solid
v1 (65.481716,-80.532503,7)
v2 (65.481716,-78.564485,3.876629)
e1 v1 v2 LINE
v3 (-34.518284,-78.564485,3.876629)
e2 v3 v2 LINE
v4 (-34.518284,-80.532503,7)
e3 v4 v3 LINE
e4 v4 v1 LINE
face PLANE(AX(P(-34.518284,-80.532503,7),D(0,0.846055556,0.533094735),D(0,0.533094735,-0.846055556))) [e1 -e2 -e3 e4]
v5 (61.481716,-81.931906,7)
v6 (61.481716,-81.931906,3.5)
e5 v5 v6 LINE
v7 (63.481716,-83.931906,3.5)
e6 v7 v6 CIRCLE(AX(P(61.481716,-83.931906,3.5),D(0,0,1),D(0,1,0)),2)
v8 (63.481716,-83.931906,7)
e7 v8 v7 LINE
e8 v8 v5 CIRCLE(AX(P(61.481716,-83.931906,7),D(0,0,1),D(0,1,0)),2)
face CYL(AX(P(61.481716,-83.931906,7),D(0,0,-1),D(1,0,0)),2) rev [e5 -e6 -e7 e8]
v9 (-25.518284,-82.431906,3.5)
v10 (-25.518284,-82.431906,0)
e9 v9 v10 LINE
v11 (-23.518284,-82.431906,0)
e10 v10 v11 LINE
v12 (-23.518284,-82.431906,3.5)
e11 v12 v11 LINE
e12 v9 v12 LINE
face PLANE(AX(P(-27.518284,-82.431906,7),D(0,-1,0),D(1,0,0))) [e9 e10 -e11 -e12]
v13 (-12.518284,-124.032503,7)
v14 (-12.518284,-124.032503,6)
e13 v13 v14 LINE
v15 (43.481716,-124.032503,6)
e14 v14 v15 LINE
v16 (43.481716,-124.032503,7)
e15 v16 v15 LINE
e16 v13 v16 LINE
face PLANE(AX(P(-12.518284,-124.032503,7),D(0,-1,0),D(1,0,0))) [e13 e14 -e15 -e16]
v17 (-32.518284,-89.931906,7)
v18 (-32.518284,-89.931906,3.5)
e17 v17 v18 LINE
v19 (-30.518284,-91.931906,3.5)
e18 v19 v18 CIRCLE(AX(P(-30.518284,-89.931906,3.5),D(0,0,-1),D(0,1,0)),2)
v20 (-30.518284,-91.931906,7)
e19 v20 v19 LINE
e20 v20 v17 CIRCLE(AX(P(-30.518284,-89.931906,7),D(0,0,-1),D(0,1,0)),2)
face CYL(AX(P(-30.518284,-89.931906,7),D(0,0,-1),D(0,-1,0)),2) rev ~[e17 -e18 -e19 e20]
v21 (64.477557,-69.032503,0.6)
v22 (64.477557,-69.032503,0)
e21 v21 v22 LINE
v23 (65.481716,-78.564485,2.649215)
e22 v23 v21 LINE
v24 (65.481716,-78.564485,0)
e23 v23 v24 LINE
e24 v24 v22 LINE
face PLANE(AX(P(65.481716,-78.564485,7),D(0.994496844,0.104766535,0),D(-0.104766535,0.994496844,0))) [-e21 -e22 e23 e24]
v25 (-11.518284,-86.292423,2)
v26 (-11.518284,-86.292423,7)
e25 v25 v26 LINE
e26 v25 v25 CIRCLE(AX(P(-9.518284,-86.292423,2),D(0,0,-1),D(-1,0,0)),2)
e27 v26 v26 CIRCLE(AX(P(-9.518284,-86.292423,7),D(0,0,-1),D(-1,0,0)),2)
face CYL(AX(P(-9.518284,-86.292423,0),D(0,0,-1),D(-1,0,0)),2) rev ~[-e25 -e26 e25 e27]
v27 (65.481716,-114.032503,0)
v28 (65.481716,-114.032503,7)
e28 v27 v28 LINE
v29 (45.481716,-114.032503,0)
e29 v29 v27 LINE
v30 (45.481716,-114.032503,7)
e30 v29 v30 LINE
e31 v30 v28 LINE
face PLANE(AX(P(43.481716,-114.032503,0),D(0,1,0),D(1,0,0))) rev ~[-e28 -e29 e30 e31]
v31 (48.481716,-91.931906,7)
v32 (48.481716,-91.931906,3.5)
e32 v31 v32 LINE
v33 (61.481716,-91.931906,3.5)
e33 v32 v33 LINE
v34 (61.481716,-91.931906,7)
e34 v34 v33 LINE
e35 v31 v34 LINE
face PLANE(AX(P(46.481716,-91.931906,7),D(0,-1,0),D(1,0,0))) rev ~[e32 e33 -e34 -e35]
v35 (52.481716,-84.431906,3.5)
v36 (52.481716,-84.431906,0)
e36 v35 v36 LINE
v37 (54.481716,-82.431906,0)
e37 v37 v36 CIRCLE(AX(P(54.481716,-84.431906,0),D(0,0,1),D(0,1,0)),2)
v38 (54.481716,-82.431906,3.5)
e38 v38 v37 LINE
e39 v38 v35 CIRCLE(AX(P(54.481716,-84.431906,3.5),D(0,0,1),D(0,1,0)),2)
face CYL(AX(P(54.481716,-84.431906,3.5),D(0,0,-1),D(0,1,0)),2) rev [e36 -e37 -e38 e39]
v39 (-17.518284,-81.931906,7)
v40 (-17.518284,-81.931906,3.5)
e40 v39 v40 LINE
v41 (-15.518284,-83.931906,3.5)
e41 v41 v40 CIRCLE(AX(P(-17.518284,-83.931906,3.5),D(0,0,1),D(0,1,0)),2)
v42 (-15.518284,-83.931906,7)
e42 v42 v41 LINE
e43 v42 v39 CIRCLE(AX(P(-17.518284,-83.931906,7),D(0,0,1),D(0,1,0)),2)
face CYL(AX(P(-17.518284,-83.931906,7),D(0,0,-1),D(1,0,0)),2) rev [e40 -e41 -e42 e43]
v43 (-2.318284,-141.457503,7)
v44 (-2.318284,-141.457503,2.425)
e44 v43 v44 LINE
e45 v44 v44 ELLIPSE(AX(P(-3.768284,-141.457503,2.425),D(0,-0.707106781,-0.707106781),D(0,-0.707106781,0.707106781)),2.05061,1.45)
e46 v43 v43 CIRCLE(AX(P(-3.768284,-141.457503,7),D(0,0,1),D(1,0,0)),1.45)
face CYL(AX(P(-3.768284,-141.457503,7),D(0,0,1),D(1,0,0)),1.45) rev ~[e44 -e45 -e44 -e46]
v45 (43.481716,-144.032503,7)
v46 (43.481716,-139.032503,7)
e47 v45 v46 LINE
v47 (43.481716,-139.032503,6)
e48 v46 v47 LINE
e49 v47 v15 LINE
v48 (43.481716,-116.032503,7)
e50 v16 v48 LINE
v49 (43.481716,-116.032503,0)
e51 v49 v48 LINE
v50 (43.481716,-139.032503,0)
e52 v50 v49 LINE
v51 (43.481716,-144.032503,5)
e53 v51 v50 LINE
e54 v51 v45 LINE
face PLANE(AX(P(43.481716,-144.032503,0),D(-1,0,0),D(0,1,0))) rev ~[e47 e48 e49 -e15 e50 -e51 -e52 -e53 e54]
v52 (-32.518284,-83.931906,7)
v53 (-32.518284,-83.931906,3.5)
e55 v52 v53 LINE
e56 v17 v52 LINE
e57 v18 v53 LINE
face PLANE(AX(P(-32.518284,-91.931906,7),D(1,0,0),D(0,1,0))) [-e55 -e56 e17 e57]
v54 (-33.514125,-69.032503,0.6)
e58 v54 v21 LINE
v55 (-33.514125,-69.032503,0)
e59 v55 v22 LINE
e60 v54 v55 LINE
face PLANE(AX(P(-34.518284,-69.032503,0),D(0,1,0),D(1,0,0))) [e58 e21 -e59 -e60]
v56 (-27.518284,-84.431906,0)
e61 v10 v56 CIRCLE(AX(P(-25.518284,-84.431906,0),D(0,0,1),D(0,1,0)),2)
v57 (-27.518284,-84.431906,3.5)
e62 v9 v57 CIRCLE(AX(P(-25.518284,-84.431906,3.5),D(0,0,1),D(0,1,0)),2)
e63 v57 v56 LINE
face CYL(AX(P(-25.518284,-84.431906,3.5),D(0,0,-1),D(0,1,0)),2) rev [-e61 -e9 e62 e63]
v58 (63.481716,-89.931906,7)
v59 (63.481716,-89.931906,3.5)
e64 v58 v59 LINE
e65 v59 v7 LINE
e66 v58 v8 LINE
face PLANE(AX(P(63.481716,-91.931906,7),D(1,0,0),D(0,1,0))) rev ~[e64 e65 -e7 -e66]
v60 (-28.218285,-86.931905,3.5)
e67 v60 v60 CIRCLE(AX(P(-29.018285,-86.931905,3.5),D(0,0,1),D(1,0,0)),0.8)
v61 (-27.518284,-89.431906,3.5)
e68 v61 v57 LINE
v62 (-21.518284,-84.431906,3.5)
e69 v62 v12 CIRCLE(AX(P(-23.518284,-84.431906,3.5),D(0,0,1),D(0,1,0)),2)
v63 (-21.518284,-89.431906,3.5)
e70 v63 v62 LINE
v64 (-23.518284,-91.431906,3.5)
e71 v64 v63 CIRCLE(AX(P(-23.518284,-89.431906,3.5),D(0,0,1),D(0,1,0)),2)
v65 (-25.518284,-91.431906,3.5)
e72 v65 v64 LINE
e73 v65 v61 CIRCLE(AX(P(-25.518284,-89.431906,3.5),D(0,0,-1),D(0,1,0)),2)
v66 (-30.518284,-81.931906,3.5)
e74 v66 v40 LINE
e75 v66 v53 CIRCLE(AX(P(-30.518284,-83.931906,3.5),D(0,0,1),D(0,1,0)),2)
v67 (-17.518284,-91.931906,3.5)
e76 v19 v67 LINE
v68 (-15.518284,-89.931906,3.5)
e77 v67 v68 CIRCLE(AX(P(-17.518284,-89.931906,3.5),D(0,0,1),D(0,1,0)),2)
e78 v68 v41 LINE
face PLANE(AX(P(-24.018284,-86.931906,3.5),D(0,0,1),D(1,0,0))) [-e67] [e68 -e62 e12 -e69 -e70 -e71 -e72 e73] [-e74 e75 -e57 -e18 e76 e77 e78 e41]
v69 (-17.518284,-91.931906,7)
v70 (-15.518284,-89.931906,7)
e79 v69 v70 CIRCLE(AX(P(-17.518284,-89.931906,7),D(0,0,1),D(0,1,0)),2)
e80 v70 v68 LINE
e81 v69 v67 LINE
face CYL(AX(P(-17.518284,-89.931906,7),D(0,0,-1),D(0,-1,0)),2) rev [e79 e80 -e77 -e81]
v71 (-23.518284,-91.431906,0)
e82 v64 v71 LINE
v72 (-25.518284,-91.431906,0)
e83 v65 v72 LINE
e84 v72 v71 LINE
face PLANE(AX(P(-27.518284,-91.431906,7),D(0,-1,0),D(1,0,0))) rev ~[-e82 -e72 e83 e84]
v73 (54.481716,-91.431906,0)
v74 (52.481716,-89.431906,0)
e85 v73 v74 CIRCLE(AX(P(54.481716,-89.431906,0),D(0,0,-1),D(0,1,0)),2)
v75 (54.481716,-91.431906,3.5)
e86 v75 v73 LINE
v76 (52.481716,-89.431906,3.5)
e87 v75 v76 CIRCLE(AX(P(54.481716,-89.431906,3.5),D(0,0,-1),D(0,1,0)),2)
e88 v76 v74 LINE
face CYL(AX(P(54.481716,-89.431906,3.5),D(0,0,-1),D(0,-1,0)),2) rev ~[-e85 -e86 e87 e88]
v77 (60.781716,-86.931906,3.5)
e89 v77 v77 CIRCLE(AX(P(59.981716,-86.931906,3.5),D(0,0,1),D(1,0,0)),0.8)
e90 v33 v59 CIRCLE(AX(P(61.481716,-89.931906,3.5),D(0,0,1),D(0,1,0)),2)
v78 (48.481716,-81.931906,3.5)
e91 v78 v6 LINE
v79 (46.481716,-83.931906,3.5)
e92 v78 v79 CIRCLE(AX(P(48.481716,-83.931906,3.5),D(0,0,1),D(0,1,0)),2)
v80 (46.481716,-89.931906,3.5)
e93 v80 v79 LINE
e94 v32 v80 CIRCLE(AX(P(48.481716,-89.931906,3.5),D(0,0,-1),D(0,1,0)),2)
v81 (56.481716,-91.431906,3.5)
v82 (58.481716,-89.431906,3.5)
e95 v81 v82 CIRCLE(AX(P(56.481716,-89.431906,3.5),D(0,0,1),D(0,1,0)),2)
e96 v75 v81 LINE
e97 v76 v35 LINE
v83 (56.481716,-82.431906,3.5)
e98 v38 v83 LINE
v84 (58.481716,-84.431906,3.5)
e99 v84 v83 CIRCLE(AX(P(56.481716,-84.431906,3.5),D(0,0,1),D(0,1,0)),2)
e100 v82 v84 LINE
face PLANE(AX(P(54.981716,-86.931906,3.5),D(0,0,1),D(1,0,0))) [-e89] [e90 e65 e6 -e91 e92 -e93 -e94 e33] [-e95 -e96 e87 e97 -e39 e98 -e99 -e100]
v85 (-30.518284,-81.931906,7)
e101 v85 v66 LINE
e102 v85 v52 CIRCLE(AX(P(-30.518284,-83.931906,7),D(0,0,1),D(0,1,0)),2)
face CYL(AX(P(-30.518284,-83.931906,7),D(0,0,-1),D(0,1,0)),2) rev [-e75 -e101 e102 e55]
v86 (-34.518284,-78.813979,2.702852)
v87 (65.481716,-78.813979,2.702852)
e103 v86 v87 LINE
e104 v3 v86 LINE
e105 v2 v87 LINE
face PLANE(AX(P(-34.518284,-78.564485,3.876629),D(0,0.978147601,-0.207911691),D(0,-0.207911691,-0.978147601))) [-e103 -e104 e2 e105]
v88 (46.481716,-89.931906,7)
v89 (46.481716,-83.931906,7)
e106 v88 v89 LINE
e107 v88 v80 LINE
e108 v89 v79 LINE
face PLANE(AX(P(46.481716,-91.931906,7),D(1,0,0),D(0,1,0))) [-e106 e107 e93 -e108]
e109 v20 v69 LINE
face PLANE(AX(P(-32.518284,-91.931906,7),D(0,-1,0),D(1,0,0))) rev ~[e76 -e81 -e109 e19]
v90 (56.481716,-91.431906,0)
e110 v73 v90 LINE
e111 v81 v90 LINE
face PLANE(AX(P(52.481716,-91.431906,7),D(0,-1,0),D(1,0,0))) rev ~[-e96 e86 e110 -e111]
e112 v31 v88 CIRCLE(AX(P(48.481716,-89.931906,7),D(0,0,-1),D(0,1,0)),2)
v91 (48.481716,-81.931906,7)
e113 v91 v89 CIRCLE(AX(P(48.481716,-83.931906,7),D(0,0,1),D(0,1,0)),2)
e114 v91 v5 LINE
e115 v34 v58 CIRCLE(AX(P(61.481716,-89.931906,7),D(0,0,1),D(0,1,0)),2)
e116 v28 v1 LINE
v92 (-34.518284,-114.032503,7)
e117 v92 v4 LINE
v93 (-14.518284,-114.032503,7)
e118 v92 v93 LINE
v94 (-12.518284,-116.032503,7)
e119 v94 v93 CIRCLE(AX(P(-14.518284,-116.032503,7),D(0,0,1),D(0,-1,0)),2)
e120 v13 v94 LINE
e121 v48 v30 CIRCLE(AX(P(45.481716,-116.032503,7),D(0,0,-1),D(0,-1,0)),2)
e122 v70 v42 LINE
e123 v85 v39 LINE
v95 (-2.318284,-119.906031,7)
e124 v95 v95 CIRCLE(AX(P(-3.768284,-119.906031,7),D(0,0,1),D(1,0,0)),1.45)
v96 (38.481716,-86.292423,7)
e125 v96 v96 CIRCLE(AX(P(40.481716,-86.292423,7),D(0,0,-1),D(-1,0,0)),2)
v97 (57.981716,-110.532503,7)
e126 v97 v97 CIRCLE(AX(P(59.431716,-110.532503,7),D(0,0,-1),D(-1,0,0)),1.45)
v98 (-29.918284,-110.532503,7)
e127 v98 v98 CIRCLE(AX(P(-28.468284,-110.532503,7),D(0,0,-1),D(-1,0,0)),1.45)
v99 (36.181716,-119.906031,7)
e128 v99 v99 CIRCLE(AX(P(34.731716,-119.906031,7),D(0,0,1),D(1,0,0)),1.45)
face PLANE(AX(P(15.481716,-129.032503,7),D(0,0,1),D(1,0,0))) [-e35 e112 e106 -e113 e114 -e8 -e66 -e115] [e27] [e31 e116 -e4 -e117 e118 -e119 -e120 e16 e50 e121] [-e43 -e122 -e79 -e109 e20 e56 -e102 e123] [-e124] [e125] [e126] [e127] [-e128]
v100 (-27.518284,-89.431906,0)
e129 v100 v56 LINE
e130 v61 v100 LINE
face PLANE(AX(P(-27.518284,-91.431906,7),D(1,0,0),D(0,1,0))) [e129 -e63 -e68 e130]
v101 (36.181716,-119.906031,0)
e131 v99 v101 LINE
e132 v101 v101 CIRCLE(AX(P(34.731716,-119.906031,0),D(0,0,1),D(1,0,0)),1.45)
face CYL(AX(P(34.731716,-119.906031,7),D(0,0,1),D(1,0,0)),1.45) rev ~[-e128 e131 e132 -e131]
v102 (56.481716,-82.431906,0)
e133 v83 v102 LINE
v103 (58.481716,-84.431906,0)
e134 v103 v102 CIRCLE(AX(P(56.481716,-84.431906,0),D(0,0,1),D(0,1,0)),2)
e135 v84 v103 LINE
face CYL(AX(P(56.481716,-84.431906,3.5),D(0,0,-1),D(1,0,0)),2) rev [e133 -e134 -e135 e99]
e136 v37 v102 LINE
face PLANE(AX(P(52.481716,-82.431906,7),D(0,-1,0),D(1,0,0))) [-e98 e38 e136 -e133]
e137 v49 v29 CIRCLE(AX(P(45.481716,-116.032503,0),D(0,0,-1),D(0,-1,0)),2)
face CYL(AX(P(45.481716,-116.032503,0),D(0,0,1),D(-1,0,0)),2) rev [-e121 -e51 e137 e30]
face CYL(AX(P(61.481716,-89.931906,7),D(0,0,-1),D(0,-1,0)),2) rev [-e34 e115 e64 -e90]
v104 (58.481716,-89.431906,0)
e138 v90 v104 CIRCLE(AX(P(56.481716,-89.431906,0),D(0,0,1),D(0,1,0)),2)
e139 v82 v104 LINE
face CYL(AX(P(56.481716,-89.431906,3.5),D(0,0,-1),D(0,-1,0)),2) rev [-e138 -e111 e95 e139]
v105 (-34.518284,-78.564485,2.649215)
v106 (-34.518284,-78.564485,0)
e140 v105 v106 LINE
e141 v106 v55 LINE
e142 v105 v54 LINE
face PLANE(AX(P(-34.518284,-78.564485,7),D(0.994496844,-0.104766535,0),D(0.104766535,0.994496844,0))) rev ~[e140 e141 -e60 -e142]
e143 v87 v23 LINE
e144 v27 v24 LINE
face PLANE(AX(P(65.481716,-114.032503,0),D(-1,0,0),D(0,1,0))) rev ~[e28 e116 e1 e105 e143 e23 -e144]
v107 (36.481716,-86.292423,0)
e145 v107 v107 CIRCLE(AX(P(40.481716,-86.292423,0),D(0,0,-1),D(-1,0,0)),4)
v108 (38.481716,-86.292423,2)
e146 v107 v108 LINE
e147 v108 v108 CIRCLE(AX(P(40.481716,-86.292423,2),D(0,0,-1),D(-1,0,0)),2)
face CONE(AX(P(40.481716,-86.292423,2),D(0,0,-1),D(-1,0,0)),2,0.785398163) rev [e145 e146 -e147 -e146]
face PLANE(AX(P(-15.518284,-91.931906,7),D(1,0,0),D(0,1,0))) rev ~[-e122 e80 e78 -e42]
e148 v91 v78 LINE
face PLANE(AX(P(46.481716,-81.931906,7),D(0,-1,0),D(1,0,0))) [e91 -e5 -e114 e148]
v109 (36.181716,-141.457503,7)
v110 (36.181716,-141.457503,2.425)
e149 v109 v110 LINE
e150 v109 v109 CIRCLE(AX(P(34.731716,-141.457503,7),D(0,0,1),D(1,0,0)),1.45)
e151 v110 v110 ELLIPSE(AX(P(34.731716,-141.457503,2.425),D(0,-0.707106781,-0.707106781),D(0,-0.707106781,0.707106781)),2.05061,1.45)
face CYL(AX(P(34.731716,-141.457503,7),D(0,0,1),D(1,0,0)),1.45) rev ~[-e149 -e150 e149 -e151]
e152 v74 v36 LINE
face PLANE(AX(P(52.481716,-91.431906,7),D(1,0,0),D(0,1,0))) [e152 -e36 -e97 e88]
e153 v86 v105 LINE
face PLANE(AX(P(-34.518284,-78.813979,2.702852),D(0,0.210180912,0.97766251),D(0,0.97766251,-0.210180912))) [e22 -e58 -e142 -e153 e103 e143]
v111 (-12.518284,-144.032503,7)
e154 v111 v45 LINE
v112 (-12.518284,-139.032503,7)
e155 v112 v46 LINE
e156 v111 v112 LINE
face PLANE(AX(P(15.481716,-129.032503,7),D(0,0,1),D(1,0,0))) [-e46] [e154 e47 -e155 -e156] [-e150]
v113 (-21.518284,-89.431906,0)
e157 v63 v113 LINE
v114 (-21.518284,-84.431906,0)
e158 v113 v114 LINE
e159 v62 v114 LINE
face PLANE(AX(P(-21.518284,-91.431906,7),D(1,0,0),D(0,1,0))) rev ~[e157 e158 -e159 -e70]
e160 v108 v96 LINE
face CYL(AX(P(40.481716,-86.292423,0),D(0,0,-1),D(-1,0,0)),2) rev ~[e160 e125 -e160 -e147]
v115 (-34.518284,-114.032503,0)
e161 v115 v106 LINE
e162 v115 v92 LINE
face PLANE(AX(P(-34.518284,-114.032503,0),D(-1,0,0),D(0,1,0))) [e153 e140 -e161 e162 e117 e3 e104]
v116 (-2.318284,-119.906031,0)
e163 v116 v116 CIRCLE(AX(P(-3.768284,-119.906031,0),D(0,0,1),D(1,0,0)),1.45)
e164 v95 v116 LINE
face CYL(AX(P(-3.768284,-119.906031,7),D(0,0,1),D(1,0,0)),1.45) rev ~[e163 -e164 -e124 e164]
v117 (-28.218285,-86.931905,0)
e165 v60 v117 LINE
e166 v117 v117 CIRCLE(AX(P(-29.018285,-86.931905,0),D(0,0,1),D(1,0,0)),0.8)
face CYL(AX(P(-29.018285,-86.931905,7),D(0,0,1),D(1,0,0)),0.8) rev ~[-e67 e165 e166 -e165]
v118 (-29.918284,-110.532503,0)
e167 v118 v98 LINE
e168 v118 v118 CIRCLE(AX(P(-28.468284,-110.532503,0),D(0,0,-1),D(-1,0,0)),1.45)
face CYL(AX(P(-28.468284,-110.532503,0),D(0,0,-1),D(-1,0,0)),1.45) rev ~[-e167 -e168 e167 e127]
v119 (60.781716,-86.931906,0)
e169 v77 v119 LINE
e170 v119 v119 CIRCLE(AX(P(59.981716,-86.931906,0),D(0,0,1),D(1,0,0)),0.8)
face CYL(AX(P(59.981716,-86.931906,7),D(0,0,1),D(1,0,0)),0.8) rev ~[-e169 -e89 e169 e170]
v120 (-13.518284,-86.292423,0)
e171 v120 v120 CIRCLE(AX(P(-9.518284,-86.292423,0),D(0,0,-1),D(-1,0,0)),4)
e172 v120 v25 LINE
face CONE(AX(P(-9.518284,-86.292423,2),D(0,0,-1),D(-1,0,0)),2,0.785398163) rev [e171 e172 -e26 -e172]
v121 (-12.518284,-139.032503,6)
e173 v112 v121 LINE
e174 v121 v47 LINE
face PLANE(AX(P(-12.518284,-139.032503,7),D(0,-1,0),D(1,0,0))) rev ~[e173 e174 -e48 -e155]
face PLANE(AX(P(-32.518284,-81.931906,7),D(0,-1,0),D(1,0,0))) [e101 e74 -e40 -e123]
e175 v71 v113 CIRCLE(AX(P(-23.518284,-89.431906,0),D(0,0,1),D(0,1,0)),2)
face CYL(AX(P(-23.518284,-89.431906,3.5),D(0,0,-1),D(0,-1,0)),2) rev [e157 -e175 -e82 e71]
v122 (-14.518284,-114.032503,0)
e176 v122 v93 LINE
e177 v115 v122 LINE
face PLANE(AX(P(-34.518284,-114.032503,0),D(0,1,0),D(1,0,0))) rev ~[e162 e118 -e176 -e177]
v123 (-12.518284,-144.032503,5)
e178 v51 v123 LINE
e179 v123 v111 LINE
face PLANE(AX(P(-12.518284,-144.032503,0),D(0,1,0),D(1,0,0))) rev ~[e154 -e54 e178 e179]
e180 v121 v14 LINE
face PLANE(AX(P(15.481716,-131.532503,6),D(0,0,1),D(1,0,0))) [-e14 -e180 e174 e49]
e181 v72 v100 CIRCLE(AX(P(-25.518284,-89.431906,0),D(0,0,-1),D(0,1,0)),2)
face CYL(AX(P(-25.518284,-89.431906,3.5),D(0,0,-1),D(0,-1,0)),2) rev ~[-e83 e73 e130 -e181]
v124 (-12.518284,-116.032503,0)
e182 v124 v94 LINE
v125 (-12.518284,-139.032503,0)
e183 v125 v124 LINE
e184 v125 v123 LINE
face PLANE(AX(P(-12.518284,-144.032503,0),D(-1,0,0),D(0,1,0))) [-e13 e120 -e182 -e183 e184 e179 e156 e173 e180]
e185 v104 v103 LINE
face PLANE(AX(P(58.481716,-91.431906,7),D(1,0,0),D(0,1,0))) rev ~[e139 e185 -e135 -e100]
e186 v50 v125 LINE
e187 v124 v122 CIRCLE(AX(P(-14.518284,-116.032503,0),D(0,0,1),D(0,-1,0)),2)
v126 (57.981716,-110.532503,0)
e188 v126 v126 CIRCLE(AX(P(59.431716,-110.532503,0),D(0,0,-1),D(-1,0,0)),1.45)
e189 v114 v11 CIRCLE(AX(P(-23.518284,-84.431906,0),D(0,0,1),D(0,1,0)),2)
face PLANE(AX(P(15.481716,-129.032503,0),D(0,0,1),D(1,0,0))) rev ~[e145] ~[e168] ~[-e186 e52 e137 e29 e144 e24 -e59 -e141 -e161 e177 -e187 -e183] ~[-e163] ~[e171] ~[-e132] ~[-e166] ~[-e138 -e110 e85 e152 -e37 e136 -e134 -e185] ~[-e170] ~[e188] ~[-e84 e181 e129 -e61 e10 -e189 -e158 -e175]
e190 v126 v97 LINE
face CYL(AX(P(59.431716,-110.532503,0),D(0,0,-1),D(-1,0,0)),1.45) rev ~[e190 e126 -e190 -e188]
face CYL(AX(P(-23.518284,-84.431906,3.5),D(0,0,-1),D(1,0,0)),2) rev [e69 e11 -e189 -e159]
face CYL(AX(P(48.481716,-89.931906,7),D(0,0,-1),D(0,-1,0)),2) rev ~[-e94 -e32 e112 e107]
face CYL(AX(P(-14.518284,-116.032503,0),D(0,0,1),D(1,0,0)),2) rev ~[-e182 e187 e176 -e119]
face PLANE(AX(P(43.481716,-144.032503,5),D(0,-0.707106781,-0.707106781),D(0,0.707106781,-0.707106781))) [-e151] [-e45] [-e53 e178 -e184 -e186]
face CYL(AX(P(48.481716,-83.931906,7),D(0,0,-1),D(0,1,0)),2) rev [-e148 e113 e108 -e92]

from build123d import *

# Parameters (mm, degrees)
ESBO_O1_W                = 56
ESBO_O1_H                = 30
ESBO_O1_W_2              = 100
ESBO_O1_H_2              = 45
RESSALTO_EXTRUS_O1_DEPTH = 7
CORTE_EXTRUS_O1_DEPTH    = 176.483223745
CORTE_EXTRUS_O2_DEPTH    = 164.946216229
ESBO_O5_W                = 17
ESBO_O5_H                = 10
CORTE_EXTRUS_O4_DEPTH    = 3.5
CORTE_EXTRUS_O6_DEPTH    = 24
FILETE1_R                = 2
FILETE2_R                = 2
ESBO_O8_R                = 0.8
ESBO_O8_W                = 6
ESBO_O8_H                = 9
CORTE_EXTRUS_O7_DEPTH    = 24
FILETE3_R                = 2
ESBO_O9_W                = 56
ESBO_O9_H                = 15
CORTE_EXTRUS_O8_DEPTH    = 1
ESBO_O10_R               = 1.45
CORTE_EXTRUS_O9_DEPTH    = 17
ESBO_O11_R               = 2
CORTE_EXTRUS_O10_DEPTH   = 15
CHANFRO1_SIZE            = 2
ESBO_O12_R               = 1.45
CORTE_EXTRUS_O11_DEPTH   = 15


with BuildPart() as part:
    # Esboço1 → Ressalto-extrusão1 (new body)
    with BuildSketch(Plane.XY):
        with Locations((15.481715893, -129.032502637)):
            Rectangle(ESBO_O1_W, ESBO_O1_H)
        with Locations((15.481715893, -91.532502637)):
            Rectangle(ESBO_O1_W_2, ESBO_O1_H_2)
    extrude(amount=RESSALTO_EXTRUS_O1_DEPTH)

    # Esboço2 → Corte-extrusão1 (cut, through all)
    with BuildSketch(Plane.ZY.offset(34.518284107)):
        Polygon((0.6, -69.032502637), (7, -69.032502637), (7, -80.532502637), (3.876629102, -78.564484615), (2.702851981, -78.813978644), align=None)
    extrude(amount=-CORTE_EXTRUS_O1_DEPTH, mode=Mode.SUBTRACT)

    # Esboço3 → Corte-extrusão2 (cut, through all)
    with BuildSketch(Plane(origin=(43.481715893, 0, 0), x_dir=(0, 0, -1), z_dir=(1, 0, 0))):
        Polygon((-5, -144.032502637), (0, -139.032502637), (0, -144.032502637), align=None)
    extrude(amount=-CORTE_EXTRUS_O2_DEPTH, mode=Mode.SUBTRACT)

    # Esboço5 → Corte-extrusão4 (cut)
    with BuildSketch(Plane.XY.offset(7)):
        with Locations((-24.018284107, -86.931905633)):
            Rectangle(ESBO_O5_W, ESBO_O5_H)
        with Locations((54.981715893, -86.931905633)):
            Rectangle(ESBO_O5_W, ESBO_O5_H)
    extrude(amount=-CORTE_EXTRUS_O4_DEPTH, mode=Mode.SUBTRACT)

    # Esboço7 → Corte-extrusão6 (cut)
    with BuildSketch(Plane.XY.offset(7)):
        Polygon((64.477557131, -69.032502637), (65.481715893, -69.032502637), (65.481715893, -78.564484615), align=None)
        Polygon((-34.518284107, -78.564484615), (-33.514125345, -69.032502637), (-34.518284107, -69.032502637), align=None)
    extrude(amount=-CORTE_EXTRUS_O6_DEPTH, mode=Mode.SUBTRACT)

    # Filete1
    filete1_edges = [part.edges().sort_by_distance(p)[0] for p in [
        (-32.518284107, -91.931905633, 5.25),
        (-32.518284107, -81.931905633, 5.25),
        (-15.518284107, -81.931905633, 5.25),
        (-15.518284107, -91.931905633, 5.25),
        (46.481715893, -91.931905633, 5.25),
        (46.481715893, -81.931905633, 5.25),
        (63.481715893, -81.931905633, 5.25),
        (63.481715893, -91.931905633, 5.25),
    ]]
    fillet(filete1_edges, radius=FILETE1_R)

    # Filete2
    filete2_edges = [part.edges().sort_by_distance(p)[0] for p in [
        (-12.518284107, -114.032502637, 3.5),
        (43.481715893, -114.032502637, 3.5),
    ]]
    fillet(filete2_edges, radius=FILETE2_R)

    # Esboço8 → Corte-extrusão7 (cut)
    with BuildSketch(Plane.XY.offset(7)):
        with Locations((59.981716293, -86.931906013)):
            Circle(ESBO_O8_R)
        with Locations((-29.018284507, -86.931905253)):
            Circle(ESBO_O8_R)
        with Locations((-24.518284107, -86.931905633)):
            Rectangle(ESBO_O8_W, ESBO_O8_H)
        with Locations((55.481715893, -86.931905633)):
            Rectangle(ESBO_O8_W, ESBO_O8_H)
    extrude(amount=-CORTE_EXTRUS_O7_DEPTH, mode=Mode.SUBTRACT)

    # Filete3
    filete3_edges = [part.edges().sort_by_distance(p)[0] for p in [
        (-27.518284107, -91.431905633, 1.75),
        (-27.518284107, -82.431905633, 1.75),
        (-21.518284107, -82.431905633, 1.75),
        (-21.518284107, -91.431905633, 1.75),
        (52.481715893, -91.431905633, 1.75),
        (52.481715893, -82.431905633, 1.75),
        (58.481715893, -82.431905633, 1.75),
        (58.481715893, -91.431905633, 1.75),
    ]]
    fillet(filete3_edges, radius=FILETE3_R)

    # Esboço9 → Corte-extrusão8 (cut)
    with BuildSketch(Plane.XY.offset(7)):
        with Locations((15.481715893, -131.532502637)):
            Rectangle(ESBO_O9_W, ESBO_O9_H)
    extrude(amount=-CORTE_EXTRUS_O8_DEPTH, mode=Mode.SUBTRACT)

    # Esboço10 → Corte-extrusão9 (cut)
    with BuildSketch(Plane.XY.offset(7)):
        with Locations((-3.768284107, -119.906030775)):
            Circle(ESBO_O10_R)
        with Locations((34.731715893, -119.906030775)):
            Circle(ESBO_O10_R)
        with Locations((34.731715893, -141.457502637)):
            Circle(ESBO_O10_R)
        with Locations((-3.768284107, -141.457502637)):
            Circle(ESBO_O10_R)
    extrude(amount=-CORTE_EXTRUS_O9_DEPTH, mode=Mode.SUBTRACT)

    # Esboço11 → Corte-extrusão10 (cut)
    with BuildSketch(Plane(origin=(0, 0, 0), x_dir=(-1, 0, 0), z_dir=(0, 0, -1))):
        with Locations((-40.481715893, -86.292423409)):
            Circle(ESBO_O11_R)
        with Locations((9.518284107, -86.292423409)):
            Circle(ESBO_O11_R)
    extrude(amount=-CORTE_EXTRUS_O10_DEPTH, mode=Mode.SUBTRACT)

    # Chanfro1
    chanfro1_edges = [part.edges().sort_by_distance(p)[0] for p in [
        (42.481715893, -86.292423409, 0),
        (-7.518284107, -86.292423409, 0),
    ]]
    chamfer(chanfro1_edges, length=CHANFRO1_SIZE)

    # Esboço12 → Corte-extrusão11 (cut)
    with BuildSketch(Plane(origin=(0, 0, 0), x_dir=(-1, 0, 0), z_dir=(0, 0, -1))):
        with Locations((-59.431715893, -110.532502637)):
            Circle(ESBO_O12_R)
        with Locations((28.468284107, -110.532502637)):
            Circle(ESBO_O12_R)
    extrude(amount=-CORTE_EXTRUS_O11_DEPTH, mode=Mode.SUBTRACT)


solid = part.part
